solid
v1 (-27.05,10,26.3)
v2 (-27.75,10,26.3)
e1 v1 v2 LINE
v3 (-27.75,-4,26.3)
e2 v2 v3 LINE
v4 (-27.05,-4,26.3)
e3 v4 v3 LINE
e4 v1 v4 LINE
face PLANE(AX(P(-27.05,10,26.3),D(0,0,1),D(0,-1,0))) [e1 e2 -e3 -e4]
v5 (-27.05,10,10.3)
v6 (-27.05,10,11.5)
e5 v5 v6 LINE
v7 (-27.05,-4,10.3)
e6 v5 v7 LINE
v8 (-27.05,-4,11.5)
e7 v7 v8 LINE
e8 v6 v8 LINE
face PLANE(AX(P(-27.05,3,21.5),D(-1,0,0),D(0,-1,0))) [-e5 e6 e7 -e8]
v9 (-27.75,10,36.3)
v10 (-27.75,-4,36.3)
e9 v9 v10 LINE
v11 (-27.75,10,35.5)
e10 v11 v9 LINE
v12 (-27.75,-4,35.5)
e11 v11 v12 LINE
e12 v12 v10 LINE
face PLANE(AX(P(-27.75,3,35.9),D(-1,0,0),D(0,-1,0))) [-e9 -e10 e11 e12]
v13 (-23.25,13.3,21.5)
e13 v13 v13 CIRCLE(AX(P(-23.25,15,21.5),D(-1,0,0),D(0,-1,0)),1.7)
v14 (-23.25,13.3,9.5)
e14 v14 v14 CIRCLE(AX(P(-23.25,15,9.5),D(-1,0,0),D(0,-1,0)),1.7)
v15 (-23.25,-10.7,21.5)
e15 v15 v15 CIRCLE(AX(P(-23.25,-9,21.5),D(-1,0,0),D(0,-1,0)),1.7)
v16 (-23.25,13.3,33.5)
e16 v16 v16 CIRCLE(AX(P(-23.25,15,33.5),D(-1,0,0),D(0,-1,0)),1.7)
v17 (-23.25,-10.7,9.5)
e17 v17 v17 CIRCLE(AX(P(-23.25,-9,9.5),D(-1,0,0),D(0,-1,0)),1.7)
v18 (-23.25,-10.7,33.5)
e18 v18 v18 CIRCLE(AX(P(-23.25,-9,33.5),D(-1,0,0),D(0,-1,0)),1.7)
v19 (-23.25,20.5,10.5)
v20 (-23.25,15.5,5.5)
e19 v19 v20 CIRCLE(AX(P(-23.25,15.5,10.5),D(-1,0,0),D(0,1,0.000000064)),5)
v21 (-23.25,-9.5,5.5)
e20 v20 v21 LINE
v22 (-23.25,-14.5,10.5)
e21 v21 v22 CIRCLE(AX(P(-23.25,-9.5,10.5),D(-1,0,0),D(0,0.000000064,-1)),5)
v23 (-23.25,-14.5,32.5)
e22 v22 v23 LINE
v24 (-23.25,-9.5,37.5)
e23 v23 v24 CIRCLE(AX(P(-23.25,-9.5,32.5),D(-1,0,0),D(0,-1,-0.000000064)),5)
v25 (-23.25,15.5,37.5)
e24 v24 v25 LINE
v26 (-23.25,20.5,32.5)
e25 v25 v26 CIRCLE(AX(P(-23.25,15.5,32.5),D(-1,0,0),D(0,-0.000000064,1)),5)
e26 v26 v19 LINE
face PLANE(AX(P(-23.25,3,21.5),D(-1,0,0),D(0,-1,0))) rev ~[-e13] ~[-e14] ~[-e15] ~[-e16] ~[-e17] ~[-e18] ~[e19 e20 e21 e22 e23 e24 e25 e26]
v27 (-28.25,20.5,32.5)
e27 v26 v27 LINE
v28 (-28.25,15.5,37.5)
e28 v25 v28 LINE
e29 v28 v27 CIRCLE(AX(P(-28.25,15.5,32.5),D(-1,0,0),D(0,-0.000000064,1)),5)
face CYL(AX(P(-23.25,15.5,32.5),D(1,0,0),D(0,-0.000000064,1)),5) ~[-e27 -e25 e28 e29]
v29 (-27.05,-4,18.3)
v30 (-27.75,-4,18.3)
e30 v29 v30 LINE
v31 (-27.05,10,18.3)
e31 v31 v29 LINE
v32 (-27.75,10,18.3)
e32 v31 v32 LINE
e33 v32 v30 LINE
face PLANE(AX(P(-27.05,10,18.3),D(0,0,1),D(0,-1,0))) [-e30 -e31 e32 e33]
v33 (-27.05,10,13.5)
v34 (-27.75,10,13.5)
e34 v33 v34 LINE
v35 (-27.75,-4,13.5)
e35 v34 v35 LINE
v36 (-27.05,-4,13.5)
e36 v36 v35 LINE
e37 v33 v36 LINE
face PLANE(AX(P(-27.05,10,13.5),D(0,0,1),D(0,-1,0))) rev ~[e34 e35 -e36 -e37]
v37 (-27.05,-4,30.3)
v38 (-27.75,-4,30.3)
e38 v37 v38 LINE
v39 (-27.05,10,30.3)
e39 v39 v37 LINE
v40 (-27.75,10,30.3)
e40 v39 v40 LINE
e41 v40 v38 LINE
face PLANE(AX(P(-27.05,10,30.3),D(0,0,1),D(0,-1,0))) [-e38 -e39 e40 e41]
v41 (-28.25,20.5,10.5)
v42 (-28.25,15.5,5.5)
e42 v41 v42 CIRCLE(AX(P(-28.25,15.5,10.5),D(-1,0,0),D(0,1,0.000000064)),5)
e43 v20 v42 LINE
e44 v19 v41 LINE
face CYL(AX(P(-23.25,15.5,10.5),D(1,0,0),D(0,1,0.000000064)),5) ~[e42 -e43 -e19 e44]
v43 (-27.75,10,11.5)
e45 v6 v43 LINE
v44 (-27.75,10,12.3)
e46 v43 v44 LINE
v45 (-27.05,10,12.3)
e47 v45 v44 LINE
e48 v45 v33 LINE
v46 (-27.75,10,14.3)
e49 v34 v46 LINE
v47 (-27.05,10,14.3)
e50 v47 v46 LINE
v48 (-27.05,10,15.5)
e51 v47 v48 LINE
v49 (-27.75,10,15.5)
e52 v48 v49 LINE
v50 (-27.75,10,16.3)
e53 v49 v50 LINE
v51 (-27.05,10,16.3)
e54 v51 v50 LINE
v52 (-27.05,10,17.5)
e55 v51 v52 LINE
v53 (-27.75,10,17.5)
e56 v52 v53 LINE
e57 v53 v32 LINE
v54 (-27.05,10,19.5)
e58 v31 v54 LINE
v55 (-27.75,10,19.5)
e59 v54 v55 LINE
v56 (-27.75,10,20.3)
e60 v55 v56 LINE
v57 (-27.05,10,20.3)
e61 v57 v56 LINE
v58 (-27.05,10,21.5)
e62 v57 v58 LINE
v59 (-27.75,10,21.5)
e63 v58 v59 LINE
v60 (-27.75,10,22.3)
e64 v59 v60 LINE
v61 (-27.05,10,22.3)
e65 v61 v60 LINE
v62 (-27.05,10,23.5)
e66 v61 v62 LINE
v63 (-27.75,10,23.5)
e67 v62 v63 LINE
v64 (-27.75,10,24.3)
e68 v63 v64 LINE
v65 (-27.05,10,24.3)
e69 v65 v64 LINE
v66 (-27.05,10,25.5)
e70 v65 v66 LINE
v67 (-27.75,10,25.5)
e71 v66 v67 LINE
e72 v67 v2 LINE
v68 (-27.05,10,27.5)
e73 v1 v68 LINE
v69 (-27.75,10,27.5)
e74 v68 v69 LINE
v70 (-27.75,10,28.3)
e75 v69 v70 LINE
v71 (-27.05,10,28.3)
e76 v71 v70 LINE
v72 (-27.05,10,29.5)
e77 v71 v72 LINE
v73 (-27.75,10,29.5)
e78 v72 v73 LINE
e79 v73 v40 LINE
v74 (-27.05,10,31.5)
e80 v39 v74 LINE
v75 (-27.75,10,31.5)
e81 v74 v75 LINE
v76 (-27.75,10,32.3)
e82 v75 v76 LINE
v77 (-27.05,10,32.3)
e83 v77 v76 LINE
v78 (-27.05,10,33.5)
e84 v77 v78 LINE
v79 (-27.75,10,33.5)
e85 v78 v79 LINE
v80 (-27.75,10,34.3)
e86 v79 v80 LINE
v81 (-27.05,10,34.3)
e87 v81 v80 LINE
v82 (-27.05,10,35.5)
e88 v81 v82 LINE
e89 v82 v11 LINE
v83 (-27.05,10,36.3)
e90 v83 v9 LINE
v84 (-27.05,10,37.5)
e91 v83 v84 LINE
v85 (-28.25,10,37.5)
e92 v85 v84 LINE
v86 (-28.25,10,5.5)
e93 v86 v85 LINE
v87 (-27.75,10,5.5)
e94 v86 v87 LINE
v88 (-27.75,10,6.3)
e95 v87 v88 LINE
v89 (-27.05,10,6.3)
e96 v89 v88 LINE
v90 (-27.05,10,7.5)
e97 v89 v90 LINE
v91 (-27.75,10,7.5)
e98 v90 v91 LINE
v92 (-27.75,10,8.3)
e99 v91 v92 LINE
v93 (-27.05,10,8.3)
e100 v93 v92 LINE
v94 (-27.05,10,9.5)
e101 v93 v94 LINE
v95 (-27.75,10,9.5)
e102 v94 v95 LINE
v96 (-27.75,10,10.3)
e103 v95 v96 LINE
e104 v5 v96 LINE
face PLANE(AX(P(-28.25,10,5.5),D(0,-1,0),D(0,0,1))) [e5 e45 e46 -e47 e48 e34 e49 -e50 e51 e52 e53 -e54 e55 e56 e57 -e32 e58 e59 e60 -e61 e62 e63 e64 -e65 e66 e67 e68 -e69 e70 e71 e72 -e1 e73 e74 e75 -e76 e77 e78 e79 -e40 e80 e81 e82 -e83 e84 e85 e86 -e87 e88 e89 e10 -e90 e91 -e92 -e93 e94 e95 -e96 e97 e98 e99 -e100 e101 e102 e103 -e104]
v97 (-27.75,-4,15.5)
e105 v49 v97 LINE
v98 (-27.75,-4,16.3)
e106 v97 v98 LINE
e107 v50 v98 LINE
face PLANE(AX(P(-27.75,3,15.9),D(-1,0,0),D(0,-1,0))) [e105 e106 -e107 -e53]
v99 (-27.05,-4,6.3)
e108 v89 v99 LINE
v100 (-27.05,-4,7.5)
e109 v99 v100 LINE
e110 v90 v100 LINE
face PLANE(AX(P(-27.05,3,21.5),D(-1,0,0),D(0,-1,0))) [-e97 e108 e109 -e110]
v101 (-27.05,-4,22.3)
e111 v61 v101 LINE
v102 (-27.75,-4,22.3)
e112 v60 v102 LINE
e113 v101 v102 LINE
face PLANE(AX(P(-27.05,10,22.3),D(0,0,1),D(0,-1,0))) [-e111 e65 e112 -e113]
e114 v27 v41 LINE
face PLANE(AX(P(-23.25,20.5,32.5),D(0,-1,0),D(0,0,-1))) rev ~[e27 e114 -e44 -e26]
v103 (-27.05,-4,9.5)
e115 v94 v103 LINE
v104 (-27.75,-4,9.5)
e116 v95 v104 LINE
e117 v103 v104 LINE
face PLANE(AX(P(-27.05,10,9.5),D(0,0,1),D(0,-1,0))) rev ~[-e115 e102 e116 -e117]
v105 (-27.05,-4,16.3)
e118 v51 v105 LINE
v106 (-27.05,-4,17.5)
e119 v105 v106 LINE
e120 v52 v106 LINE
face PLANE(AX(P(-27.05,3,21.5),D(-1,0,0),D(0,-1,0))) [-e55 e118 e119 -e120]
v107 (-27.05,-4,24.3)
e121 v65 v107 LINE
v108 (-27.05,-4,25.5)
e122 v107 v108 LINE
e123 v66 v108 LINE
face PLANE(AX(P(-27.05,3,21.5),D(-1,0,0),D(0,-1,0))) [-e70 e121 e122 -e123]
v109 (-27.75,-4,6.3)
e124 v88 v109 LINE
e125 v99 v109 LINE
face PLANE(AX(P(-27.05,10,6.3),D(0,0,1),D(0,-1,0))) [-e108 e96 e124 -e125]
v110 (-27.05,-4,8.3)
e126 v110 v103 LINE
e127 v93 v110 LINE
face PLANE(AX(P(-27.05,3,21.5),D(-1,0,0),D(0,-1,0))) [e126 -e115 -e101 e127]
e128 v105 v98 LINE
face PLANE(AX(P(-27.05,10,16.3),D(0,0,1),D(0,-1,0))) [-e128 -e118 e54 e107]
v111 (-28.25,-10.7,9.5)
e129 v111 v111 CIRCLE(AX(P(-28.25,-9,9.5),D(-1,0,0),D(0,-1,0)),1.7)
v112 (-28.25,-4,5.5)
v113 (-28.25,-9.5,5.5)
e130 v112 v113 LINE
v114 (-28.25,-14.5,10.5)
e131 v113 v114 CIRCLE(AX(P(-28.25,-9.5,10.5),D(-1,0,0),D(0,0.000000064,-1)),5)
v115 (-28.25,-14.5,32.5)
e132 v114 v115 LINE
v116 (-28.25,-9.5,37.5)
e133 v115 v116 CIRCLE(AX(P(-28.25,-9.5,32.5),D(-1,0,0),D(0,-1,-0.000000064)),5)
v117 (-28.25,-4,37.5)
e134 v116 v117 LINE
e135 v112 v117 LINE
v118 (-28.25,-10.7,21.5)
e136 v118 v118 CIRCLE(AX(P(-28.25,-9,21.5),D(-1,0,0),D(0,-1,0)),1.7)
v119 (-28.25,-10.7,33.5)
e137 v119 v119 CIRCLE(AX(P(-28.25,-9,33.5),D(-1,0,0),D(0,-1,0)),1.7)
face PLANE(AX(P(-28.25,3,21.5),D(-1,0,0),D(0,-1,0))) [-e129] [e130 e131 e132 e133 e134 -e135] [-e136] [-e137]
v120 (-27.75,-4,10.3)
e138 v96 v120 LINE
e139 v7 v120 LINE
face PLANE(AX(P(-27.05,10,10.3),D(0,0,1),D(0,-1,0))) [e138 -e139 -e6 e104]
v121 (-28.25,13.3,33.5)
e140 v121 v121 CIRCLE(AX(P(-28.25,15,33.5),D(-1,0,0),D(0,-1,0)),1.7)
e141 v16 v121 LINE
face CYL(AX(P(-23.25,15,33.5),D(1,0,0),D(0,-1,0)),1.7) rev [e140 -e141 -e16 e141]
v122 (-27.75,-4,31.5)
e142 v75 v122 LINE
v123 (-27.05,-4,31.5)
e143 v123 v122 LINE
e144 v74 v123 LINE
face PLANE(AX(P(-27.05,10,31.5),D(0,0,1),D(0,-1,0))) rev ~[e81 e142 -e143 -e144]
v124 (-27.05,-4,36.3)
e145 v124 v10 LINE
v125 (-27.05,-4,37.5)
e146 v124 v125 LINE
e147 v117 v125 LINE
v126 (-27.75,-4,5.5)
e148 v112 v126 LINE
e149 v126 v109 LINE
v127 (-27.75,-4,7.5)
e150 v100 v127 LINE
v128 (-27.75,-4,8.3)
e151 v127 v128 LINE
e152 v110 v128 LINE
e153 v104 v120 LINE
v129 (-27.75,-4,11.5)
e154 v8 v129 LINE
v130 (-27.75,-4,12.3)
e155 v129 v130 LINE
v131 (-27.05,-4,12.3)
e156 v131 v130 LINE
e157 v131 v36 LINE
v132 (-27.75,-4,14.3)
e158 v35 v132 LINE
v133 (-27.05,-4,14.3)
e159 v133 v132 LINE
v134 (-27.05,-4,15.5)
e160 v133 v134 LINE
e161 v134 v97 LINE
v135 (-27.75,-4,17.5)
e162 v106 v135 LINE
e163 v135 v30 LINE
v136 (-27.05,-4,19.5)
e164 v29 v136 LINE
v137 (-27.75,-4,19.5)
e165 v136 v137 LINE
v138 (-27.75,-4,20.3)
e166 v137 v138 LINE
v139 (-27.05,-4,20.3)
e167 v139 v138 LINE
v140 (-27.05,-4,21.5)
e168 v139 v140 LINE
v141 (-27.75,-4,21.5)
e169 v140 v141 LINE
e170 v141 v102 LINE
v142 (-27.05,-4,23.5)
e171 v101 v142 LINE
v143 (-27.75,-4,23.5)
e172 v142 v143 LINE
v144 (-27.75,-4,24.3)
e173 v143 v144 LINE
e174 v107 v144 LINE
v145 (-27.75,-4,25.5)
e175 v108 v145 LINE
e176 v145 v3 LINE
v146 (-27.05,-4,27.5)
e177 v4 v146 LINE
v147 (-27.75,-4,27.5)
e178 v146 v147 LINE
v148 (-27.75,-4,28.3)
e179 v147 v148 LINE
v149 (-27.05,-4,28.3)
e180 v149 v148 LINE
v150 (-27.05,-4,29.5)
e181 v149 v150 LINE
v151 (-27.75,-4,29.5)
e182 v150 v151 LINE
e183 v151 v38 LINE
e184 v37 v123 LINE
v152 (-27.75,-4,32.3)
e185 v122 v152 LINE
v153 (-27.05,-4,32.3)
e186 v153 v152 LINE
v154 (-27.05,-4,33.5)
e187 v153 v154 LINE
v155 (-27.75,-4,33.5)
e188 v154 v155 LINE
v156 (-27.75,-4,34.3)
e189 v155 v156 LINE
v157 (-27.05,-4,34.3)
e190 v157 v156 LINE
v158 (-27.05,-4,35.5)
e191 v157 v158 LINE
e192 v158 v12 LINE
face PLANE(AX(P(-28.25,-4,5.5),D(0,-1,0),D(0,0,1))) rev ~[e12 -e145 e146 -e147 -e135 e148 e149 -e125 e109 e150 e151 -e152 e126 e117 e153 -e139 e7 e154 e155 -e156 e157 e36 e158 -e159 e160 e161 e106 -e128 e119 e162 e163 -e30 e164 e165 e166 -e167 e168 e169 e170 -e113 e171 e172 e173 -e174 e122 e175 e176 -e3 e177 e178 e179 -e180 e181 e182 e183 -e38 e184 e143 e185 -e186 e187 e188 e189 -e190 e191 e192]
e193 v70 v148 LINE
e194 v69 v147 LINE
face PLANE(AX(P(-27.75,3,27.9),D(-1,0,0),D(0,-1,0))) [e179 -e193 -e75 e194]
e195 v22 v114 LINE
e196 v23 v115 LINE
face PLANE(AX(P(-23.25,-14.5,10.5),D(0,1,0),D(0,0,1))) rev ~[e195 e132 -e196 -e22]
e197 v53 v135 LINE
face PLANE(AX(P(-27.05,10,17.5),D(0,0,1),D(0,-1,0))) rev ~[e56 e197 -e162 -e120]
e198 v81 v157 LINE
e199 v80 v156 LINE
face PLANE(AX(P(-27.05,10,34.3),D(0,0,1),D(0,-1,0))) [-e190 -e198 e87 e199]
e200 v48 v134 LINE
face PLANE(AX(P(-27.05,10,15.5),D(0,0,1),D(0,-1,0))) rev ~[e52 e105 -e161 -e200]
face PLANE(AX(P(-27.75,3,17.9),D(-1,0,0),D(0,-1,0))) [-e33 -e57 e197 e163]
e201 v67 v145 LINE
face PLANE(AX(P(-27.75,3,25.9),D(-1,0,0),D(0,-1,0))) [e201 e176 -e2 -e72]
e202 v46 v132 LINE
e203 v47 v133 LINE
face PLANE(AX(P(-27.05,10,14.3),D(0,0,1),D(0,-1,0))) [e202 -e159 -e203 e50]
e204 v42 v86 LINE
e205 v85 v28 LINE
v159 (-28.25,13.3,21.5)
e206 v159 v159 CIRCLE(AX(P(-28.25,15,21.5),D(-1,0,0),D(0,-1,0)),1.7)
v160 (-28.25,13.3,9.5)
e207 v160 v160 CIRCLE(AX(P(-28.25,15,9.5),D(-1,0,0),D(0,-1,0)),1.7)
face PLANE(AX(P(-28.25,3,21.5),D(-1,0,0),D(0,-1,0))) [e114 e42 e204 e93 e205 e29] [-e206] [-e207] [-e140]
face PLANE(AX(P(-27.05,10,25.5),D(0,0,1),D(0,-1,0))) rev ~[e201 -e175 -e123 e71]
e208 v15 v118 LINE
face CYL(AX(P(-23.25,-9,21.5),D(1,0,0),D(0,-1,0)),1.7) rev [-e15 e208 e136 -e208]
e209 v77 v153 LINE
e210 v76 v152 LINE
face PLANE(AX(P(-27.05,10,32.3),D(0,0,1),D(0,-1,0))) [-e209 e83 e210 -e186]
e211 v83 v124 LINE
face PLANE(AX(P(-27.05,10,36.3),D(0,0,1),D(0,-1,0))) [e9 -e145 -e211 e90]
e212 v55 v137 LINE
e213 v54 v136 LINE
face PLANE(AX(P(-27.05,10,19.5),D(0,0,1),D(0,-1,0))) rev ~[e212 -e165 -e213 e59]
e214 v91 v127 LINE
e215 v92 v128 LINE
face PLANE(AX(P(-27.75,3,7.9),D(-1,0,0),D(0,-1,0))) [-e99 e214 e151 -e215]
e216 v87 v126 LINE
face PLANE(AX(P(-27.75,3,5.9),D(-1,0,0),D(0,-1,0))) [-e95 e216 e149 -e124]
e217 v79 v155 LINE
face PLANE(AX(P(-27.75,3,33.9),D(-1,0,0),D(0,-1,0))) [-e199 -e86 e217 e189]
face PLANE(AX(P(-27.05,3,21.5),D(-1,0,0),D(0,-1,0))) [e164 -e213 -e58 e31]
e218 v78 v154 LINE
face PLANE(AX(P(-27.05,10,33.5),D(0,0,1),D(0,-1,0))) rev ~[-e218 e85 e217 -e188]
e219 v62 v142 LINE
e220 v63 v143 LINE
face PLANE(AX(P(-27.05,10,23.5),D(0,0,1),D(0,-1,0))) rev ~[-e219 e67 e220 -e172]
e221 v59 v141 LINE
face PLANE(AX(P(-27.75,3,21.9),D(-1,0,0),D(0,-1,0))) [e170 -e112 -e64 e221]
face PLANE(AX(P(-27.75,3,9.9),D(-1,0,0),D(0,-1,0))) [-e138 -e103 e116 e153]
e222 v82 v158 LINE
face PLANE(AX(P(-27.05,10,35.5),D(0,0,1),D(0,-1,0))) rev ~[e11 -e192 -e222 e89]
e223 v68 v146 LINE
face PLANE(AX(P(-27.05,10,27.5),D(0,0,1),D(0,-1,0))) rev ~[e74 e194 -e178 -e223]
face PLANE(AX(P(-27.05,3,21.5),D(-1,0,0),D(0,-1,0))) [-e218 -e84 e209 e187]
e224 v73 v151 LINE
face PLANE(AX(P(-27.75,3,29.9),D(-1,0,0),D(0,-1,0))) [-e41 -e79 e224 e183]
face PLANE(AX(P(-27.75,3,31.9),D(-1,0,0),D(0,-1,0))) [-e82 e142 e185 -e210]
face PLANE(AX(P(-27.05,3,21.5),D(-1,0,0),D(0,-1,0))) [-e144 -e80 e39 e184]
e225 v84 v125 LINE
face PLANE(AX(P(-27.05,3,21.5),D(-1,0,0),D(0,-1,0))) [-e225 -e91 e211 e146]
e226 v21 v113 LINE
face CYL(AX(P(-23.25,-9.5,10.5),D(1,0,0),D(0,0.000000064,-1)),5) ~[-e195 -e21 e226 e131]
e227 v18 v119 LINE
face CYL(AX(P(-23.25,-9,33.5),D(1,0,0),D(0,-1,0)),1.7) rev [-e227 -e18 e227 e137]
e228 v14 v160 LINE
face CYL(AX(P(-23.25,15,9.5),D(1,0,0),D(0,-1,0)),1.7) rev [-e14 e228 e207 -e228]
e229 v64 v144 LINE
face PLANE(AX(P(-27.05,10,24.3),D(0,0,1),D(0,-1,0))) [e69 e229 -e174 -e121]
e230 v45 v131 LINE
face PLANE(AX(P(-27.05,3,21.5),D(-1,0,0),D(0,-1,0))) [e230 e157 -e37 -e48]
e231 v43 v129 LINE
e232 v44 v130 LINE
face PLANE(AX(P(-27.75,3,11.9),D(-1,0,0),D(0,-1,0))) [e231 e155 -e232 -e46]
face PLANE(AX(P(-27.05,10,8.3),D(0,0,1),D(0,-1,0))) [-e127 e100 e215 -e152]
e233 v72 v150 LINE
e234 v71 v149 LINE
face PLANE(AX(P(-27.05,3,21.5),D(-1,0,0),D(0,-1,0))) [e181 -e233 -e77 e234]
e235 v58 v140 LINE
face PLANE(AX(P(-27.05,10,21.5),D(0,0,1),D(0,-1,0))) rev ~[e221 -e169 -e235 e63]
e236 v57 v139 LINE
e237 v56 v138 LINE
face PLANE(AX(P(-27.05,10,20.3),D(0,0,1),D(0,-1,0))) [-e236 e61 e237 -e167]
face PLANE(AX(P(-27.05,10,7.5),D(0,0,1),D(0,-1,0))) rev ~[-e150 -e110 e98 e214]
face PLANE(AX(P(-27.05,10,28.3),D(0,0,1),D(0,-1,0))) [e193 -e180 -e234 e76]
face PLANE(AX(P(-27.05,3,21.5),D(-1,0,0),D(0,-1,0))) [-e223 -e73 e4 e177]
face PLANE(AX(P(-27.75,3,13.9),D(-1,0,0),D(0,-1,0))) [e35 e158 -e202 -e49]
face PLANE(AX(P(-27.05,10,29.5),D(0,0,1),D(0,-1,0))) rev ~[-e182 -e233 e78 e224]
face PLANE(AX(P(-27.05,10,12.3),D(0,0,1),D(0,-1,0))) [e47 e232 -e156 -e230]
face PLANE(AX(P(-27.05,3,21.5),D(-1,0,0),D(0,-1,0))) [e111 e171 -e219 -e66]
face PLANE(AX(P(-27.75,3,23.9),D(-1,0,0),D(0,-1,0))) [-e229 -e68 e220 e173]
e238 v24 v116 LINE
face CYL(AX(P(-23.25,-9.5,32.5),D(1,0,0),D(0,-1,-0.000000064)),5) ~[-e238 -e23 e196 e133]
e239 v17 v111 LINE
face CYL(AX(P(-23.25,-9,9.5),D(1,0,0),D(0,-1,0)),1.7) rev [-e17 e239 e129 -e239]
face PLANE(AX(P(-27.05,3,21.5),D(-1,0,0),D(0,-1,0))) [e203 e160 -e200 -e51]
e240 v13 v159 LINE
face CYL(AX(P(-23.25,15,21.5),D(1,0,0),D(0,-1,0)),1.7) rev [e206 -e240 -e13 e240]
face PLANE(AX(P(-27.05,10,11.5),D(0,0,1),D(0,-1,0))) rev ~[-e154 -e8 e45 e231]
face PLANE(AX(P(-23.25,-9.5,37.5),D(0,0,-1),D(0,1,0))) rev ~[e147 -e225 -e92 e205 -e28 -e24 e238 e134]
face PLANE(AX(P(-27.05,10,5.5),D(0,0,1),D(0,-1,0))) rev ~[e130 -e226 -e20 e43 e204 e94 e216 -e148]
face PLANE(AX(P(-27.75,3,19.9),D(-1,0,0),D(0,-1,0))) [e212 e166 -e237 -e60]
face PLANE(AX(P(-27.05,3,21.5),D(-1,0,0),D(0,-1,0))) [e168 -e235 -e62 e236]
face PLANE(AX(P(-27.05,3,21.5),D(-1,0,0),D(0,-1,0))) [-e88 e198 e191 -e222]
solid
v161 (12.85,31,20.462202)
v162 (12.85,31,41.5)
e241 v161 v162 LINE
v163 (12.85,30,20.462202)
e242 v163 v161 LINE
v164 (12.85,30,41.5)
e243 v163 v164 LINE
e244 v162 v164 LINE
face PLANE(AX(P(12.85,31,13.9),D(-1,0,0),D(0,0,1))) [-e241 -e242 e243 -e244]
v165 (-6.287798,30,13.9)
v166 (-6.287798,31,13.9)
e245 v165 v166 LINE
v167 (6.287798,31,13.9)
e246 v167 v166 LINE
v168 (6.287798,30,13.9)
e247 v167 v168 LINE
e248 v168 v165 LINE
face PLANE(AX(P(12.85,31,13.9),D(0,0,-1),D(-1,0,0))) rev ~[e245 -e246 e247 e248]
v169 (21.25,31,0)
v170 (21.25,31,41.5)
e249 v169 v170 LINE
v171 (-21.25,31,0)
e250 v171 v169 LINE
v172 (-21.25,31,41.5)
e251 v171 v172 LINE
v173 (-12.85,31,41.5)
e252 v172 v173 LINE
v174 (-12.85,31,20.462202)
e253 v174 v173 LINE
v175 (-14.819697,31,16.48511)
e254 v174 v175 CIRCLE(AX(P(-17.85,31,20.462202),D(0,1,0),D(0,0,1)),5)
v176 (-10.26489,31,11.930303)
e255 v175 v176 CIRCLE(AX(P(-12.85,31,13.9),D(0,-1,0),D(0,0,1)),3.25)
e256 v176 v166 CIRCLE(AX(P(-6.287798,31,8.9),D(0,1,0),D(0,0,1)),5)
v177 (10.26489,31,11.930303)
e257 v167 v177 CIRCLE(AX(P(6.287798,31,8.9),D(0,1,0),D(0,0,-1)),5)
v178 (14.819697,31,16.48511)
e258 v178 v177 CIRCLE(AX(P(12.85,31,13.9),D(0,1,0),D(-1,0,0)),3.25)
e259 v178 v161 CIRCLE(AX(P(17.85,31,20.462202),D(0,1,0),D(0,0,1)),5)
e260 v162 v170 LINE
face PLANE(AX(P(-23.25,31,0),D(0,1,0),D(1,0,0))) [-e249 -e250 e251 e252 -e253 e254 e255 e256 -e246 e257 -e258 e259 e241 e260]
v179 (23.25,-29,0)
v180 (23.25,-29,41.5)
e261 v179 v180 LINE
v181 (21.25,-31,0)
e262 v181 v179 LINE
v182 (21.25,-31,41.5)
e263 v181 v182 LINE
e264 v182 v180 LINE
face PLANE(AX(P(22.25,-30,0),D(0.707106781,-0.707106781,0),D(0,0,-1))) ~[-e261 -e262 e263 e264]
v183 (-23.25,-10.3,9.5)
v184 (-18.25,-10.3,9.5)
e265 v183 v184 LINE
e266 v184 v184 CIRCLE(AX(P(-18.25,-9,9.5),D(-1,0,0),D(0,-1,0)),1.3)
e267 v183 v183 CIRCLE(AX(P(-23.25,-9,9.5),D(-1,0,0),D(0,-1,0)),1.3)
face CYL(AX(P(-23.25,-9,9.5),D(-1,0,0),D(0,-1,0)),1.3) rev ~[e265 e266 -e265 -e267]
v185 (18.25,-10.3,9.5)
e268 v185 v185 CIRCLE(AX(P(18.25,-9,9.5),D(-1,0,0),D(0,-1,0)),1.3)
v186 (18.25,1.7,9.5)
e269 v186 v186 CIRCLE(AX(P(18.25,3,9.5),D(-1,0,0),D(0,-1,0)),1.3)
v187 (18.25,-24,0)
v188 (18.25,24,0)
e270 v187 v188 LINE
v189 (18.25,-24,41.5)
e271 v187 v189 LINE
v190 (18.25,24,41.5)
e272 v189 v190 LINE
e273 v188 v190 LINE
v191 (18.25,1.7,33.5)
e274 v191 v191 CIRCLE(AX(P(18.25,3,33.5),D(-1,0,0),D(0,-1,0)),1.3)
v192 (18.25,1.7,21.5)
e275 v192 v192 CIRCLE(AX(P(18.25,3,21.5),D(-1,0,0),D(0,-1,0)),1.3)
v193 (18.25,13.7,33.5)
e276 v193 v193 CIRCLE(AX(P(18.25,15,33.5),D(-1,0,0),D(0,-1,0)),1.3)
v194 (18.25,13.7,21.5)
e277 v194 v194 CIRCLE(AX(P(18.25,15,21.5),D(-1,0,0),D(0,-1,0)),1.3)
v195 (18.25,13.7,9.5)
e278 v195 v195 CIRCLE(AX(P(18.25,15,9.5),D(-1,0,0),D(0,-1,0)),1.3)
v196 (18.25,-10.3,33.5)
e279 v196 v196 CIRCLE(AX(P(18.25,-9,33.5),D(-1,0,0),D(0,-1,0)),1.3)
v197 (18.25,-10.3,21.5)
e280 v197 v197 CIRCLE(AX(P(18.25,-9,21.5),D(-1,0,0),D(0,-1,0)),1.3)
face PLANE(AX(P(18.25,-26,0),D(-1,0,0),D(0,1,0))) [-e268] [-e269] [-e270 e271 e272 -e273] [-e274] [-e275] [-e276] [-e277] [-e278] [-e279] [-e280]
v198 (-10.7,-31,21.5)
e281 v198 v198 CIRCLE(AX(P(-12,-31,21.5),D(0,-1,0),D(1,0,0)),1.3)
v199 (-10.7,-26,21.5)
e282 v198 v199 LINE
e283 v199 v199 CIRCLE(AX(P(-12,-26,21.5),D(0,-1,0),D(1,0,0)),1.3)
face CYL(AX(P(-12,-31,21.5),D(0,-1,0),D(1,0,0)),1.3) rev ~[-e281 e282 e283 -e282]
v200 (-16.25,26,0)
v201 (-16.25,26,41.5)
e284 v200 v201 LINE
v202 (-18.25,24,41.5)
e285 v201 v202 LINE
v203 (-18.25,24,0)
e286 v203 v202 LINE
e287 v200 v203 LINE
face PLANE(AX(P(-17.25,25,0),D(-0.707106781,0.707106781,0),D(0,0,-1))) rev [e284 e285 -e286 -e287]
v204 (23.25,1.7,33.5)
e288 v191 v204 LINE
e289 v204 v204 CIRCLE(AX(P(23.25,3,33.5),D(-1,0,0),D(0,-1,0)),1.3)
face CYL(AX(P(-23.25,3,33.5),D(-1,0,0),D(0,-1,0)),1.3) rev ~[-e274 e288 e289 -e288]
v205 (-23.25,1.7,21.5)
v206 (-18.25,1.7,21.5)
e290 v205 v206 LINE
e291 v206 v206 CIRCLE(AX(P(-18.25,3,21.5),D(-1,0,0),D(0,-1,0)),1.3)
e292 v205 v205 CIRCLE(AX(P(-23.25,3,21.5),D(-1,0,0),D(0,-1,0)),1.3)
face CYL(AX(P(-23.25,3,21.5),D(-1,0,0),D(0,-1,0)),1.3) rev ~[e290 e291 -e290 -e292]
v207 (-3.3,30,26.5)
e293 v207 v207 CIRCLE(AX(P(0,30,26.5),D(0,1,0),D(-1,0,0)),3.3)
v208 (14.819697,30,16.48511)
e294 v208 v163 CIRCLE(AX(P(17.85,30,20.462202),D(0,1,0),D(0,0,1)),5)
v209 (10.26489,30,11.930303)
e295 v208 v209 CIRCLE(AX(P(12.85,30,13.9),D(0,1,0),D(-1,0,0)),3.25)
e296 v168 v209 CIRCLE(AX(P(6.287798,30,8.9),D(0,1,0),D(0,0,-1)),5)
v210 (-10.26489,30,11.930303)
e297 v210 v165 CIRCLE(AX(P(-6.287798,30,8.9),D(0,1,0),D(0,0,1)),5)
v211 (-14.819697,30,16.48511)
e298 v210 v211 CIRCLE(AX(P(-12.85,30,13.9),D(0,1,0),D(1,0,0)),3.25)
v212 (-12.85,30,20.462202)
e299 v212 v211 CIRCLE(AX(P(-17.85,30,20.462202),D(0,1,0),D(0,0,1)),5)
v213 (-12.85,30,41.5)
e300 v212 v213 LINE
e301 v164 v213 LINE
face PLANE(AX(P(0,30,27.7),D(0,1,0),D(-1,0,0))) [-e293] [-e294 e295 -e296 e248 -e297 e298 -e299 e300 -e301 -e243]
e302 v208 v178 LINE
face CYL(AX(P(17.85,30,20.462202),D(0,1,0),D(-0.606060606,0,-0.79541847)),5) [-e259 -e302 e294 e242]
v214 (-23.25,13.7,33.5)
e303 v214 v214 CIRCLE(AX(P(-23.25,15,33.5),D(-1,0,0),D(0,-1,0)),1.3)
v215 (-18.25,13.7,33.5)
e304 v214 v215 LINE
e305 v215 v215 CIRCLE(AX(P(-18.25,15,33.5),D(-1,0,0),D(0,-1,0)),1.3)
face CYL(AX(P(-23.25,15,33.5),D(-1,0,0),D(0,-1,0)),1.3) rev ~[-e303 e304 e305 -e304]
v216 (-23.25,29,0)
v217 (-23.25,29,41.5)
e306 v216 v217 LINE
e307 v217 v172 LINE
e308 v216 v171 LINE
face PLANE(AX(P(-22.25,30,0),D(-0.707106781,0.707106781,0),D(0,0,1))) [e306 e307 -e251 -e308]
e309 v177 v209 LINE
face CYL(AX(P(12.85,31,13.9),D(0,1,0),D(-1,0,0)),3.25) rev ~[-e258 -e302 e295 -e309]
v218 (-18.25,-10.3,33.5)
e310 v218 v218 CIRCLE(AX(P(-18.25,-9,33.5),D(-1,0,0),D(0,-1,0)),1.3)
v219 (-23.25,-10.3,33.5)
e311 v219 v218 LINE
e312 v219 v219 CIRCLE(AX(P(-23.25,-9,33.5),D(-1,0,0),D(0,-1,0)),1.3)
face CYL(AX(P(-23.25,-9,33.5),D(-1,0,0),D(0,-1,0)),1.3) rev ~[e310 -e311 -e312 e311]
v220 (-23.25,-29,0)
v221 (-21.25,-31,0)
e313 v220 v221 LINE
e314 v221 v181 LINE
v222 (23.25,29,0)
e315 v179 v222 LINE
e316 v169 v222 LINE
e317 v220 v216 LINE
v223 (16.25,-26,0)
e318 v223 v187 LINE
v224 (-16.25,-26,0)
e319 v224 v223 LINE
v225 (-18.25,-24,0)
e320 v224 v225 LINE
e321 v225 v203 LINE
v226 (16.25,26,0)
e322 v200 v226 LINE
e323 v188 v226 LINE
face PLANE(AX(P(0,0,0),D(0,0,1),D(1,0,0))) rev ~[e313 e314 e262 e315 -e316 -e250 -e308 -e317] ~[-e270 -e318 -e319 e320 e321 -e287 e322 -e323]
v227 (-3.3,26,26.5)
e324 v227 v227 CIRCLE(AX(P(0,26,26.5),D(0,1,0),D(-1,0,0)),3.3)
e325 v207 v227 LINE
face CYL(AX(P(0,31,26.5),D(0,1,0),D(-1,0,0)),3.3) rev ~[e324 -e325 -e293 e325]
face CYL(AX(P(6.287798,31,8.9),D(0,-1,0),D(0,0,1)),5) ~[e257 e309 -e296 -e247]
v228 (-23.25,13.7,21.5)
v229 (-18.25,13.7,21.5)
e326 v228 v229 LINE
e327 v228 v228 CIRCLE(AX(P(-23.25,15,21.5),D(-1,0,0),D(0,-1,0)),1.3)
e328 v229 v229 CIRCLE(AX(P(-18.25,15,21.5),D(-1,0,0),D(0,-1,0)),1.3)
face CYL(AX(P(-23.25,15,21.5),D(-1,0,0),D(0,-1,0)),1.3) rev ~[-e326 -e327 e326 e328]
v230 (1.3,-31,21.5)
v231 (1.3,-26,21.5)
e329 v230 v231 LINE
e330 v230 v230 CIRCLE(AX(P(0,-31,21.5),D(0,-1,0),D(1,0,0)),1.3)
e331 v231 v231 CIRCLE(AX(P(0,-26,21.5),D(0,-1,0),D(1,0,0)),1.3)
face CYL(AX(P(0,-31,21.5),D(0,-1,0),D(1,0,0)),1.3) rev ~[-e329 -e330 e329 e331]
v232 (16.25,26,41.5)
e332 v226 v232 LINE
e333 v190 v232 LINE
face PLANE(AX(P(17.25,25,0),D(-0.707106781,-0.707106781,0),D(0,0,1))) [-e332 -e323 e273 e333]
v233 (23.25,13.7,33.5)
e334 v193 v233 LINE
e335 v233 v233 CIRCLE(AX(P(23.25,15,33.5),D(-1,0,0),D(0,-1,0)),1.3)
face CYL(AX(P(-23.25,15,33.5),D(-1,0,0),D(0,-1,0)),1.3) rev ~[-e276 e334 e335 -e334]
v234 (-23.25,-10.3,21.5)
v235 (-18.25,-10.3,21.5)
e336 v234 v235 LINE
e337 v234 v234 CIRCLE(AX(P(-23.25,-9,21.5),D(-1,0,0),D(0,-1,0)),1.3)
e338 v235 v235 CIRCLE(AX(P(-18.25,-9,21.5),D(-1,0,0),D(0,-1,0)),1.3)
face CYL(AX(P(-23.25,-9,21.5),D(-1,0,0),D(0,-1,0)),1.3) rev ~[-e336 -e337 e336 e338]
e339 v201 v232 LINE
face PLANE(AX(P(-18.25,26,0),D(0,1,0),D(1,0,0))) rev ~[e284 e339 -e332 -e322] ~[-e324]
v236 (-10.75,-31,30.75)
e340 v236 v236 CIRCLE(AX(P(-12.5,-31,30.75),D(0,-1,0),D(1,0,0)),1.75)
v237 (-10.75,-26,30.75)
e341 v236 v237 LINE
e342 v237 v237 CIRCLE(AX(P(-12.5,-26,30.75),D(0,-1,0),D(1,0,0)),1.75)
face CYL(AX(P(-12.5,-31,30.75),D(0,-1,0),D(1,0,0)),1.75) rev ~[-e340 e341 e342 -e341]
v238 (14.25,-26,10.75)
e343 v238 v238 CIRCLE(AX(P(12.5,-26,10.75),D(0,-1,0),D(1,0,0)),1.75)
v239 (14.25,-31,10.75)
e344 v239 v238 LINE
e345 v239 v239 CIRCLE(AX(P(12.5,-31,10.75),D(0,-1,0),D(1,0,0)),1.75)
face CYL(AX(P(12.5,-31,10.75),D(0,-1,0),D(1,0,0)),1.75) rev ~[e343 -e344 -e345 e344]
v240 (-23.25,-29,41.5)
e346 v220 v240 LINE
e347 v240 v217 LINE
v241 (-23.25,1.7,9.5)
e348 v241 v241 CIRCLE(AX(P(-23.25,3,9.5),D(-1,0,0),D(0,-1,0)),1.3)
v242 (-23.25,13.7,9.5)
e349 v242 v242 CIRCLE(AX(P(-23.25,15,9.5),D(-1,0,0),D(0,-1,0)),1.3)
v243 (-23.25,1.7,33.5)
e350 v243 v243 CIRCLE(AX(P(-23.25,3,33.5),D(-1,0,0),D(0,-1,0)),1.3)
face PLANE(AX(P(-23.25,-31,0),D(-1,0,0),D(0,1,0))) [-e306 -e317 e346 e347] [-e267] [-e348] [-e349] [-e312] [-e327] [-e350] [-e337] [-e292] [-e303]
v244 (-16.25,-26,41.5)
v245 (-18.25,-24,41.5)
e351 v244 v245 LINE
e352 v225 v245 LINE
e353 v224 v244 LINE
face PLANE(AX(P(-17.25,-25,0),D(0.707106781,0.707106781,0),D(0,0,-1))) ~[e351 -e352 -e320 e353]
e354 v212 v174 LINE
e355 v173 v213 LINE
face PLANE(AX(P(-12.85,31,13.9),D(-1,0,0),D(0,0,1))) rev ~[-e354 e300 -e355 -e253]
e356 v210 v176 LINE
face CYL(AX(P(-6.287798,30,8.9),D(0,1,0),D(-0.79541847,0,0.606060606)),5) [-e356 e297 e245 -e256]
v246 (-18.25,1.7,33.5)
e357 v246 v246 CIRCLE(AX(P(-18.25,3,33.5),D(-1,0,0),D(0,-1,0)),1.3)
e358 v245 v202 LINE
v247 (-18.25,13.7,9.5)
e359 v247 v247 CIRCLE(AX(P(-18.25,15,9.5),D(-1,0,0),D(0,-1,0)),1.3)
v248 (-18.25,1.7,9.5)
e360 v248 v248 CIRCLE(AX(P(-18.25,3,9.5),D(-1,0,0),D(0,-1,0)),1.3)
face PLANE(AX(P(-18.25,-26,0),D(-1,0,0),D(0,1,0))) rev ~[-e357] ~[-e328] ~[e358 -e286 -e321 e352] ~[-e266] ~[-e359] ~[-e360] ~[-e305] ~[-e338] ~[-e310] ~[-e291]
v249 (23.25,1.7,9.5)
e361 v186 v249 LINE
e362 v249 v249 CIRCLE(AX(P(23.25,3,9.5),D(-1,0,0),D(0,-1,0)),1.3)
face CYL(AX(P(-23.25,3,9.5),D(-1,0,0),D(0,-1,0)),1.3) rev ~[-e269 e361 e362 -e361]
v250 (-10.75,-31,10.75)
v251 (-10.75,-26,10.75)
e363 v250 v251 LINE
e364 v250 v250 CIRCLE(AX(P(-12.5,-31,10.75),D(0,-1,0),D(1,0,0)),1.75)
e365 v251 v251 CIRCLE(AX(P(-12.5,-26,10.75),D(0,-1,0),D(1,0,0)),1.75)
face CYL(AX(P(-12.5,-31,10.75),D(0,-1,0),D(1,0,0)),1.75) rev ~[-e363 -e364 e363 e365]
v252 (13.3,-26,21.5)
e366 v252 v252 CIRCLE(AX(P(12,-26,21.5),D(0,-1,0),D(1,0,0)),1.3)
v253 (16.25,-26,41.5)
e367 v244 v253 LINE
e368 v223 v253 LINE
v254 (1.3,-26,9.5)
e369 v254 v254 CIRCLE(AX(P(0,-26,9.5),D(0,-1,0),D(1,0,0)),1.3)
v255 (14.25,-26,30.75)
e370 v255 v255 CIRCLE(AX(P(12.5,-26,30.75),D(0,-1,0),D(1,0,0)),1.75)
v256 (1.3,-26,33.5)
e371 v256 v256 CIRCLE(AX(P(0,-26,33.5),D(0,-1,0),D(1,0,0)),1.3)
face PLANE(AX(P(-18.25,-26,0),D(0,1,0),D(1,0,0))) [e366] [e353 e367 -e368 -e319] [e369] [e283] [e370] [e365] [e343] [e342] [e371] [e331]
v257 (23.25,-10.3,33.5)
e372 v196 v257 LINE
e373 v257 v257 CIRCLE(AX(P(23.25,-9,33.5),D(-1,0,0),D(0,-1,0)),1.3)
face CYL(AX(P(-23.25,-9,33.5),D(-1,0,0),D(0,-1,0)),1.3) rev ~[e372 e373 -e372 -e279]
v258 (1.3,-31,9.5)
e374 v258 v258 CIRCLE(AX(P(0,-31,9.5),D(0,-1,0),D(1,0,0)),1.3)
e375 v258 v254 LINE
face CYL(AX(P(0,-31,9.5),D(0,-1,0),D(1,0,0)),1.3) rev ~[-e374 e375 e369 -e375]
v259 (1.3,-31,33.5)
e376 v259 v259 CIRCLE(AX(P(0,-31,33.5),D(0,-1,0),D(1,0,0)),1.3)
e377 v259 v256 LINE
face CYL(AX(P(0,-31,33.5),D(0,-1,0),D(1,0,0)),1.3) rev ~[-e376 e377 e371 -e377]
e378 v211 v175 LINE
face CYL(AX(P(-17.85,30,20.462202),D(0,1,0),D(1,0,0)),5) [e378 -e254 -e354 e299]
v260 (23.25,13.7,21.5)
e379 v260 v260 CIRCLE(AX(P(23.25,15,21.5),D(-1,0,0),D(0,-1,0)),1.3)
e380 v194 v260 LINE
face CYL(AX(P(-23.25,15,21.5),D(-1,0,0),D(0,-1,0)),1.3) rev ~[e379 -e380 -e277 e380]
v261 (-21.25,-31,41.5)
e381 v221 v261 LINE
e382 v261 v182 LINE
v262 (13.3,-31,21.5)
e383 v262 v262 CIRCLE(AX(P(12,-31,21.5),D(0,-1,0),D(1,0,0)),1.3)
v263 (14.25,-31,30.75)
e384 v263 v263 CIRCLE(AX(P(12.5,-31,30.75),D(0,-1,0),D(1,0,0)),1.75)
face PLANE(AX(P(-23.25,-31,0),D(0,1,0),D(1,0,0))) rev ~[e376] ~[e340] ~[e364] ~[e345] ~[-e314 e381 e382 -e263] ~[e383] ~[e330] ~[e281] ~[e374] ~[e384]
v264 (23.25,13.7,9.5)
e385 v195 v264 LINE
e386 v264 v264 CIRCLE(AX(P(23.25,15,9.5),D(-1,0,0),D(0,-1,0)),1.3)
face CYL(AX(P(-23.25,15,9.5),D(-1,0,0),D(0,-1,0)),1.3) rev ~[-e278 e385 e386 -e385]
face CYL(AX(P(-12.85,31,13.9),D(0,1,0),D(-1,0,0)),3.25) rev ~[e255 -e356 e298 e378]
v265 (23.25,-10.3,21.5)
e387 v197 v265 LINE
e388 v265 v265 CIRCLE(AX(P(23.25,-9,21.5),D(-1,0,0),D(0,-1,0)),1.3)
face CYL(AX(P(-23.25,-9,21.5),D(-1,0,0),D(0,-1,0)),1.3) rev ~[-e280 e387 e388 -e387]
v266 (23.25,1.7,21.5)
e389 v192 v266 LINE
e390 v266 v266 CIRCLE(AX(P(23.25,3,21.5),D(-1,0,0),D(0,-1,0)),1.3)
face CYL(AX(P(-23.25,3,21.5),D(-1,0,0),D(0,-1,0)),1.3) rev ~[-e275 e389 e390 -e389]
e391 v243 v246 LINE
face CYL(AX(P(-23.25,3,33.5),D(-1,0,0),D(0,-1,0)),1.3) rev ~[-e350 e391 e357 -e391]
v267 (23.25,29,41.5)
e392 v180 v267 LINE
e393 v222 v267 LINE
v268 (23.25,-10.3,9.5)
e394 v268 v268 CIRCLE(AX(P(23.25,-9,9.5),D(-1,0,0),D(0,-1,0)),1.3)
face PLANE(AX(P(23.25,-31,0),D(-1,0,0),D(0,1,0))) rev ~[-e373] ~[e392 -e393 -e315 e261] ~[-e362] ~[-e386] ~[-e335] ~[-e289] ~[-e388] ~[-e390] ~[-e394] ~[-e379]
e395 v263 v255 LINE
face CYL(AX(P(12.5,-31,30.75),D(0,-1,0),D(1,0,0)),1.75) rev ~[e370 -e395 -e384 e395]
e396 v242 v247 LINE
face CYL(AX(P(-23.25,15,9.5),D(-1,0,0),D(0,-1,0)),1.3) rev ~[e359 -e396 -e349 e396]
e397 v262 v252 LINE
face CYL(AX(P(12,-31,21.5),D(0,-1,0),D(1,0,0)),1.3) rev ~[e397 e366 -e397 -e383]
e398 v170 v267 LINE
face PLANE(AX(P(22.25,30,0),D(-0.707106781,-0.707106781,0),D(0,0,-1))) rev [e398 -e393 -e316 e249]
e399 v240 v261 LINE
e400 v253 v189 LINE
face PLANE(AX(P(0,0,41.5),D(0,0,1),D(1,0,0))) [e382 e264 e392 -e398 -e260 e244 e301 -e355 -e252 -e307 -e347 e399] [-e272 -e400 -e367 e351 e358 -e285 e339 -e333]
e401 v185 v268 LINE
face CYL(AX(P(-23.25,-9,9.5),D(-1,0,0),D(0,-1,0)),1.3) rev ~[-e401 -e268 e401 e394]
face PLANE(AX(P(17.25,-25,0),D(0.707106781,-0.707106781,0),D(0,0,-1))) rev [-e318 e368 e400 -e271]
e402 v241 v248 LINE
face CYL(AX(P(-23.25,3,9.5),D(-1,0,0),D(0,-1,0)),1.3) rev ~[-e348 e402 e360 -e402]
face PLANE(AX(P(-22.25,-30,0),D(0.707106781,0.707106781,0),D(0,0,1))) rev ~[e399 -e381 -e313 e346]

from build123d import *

# Parameters (mm, degrees)
F0_W      = 46.5
F0_H      = 62
F0_W_2    = 36.5
F0_H_2    = 52
F1_DEPTH  = 41.5
F2_SIZE   = 2
F3_R      = 1.75
F4_DEPTH  = 10
F5_R      = 1.3
F6_DEPTH  = 46.501
F7_R      = 3.3
F8_DEPTH  = 10
F9_W      = 25.7
F9_H      = 27.6
F10_DEPTH = 1
F11_R     = 3.25
F12_DEPTH = 1
F13_R     = 5
F14_R     = 1.3
F15_DEPTH = 10
F16_R     = 1.7
F17_DEPTH = 5
F18_W     = 14
F18_H     = 32
F19_DEPTH = 1.2
F20_W     = 14
F20_H     = 0.8
F21_DEPTH = 0.7


with BuildPart() as f1:
    # F0 (on Top) → F1 (new body)
    with BuildSketch(Plane.XY):
        Rectangle(F0_W, F0_H)
        Rectangle(F0_W_2, F0_H_2, mode=Mode.SUBTRACT)
    extrude(amount=F1_DEPTH)

    # F2
    f2_edges = [f1.edges().sort_by_distance(p)[0] for p in [
        (18.25, 26, 20.75),
        (-18.25, 26, 20.75),
        (18.25, -26, 20.75),
        (-18.25, -26, 20.75),
        (-23.25, -31, 20.75),
        (23.25, -31, 20.75),
        (23.25, 31, 20.75),
        (-23.25, 31, 20.75),
    ]]
    chamfer(f2_edges, length=F2_SIZE)

    # F3 (on face) → F4 (cut)
    with BuildSketch(Plane.XZ.offset(31)):
        with Locations((-12.5, 30.75)):
            Circle(F3_R)
        with Locations((12.5, 30.75)):
            Circle(F3_R)
        with Locations((-12.5, 10.75)):
            Circle(F3_R)
        with Locations((12.5, 10.75)):
            Circle(F3_R)
    extrude(amount=-F4_DEPTH, mode=Mode.SUBTRACT)

    # F5 (on face) → F6 (cut, through all)
    with BuildSketch(Plane(origin=(-23.25, 0, 0), x_dir=(0, -1, 0), z_dir=(-1, 0, 0))):
        with Locations((-3, 33.5)):
            Circle(F5_R)
        with Locations((-3, 21.5)):
            Circle(F5_R)
        with Locations((-3, 9.5)):
            Circle(F5_R)
        with Locations((9, 21.5)):
            Circle(F5_R)
        with Locations((-15, 21.5)):
            Circle(F5_R)
        with Locations((-15, 33.5)):
            Circle(F5_R)
        with Locations((9, 33.5)):
            Circle(F5_R)
        with Locations((9, 9.5)):
            Circle(F5_R)
        with Locations((-15, 9.5)):
            Circle(F5_R)
    extrude(amount=-F6_DEPTH, mode=Mode.SUBTRACT)

    # F7 (on face) → F8 (cut)
    with BuildSketch(Plane(origin=(0, 31, 0), x_dir=(-1, 0, 0), z_dir=(0, 1, 0))):
        with Locations((0, 26.5)):
            Circle(F7_R)
    extrude(amount=-F8_DEPTH, mode=Mode.SUBTRACT)

    # F9 (on face) → F10 (cut)
    with BuildSketch(Plane(origin=(0, 31, 0), x_dir=(-1, 0, 0), z_dir=(0, 1, 0))):
        with Locations((0, 27.7)):
            Rectangle(F9_W, F9_H)
    extrude(amount=-F10_DEPTH, mode=Mode.SUBTRACT)

    # F11 (on face) → F12 (cut, through all)
    with BuildSketch(Plane(origin=(0, 31, 0), x_dir=(-1, 0, 0), z_dir=(0, 1, 0))):
        with Locations((-12.85, 13.9)):
            Circle(F11_R)
        with Locations((12.85, 13.9)):
            Circle(F11_R)
    extrude(amount=-F12_DEPTH, mode=Mode.SUBTRACT)

    # F13
    f13_edges = [f1.edges().sort_by_distance(p)[0] for p in [
        (12.85, 30.5, 17.15),
        (-12.85, 30.5, 17.15),
        (-9.6, 30.5, 13.9),
        (9.6, 30.5, 13.9),
    ]]
    fillet(f13_edges, radius=F13_R)

    # F14 (on face) → F15 (cut)
    with BuildSketch(Plane.XZ.offset(31)):
        with Locations((0, 21.5)):
            Circle(F14_R)
        with Locations((0, 9.5)):
            Circle(F14_R)
        with Locations((0, 33.5)):
            Circle(F14_R)
        with Locations((-12, 21.5)):
            Circle(F14_R)
        with Locations((12, 21.5)):
            Circle(F14_R)
    extrude(amount=-F15_DEPTH, mode=Mode.SUBTRACT)


with BuildPart() as f17:
    # F16 (on face) → F17 (new body)
    with BuildSketch(Plane(origin=(-23.25, 0, 0), x_dir=(0, -1, 0), z_dir=(-1, 0, 0))):
        with BuildLine():
            Line((9.5, 37.5), (-15.5, 37.5))
            ThreePointArc((-15.5, 37.5), (-19.035534, 36.035534), (-20.5, 32.5))
            Line((-20.5, 32.5), (-20.5, 10.5))
            ThreePointArc((-20.5, 10.5), (-19.035534, 6.964466), (-15.5, 5.5))
            Line((-15.5, 5.5), (9.5, 5.5))
            ThreePointArc((9.5, 5.5), (13.035534, 6.964466), (14.5, 10.5))
            Line((14.5, 10.5), (14.5, 32.5))
            ThreePointArc((14.5, 32.5), (13.035534, 36.035534), (9.5, 37.5))
        make_face()
        with Locations((-15, 9.5)):
            Circle(F16_R, mode=Mode.SUBTRACT)
        with Locations((9, 9.5)):
            Circle(F16_R, mode=Mode.SUBTRACT)
        with Locations((-15, 21.5)):
            Circle(F16_R, mode=Mode.SUBTRACT)
        with Locations((-15, 33.5)):
            Circle(F16_R, mode=Mode.SUBTRACT)
        with Locations((9, 21.5)):
            Circle(F16_R, mode=Mode.SUBTRACT)
        with Locations((9, 33.5)):
            Circle(F16_R, mode=Mode.SUBTRACT)
    extrude(amount=F17_DEPTH)

    # F18 (on face) → F19 (cut)
    with BuildSketch(Plane(origin=(-28.25, 0, 0), x_dir=(0, -1, 0), z_dir=(-1, 0, 0))):
        with Locations((-3, 21.5)):
            Rectangle(F18_W, F18_H)
    extrude(amount=-F19_DEPTH, mode=Mode.SUBTRACT)

    # F20 (on face) → F21 (join)
    with BuildSketch(Plane(origin=(-27.05, 0, 0), x_dir=(0, -1, 0), z_dir=(-1, 0, 0))):
        with Locations((-3, 5.9)):
            Rectangle(F20_W, F20_H)
        with Locations((-3, 7.9)):
            Rectangle(F20_W, F20_H)
        with Locations((-3, 9.9)):
            Rectangle(F20_W, F20_H)
        with Locations((-3, 11.9)):
            Rectangle(F20_W, F20_H)
        with Locations((-3, 13.9)):
            Rectangle(F20_W, F20_H)
        with Locations((-3, 15.9)):
            Rectangle(F20_W, F20_H)
        with Locations((-3, 17.9)):
            Rectangle(F20_W, F20_H)
        with Locations((-3, 19.9)):
            Rectangle(F20_W, F20_H)
        with Locations((-3, 21.9)):
            Rectangle(F20_W, F20_H)
        with Locations((-3, 23.9)):
            Rectangle(F20_W, F20_H)
        with Locations((-3, 25.9)):
            Rectangle(F20_W, F20_H)
        with Locations((-3, 27.9)):
            Rectangle(F20_W, F20_H)
        with Locations((-3, 29.9)):
            Rectangle(F20_W, F20_H)
        with Locations((-3, 31.9)):
            Rectangle(F20_W, F20_H)
        with Locations((-3, 33.9)):
            Rectangle(F20_W, F20_H)
        with Locations((-3, 35.9)):
            Rectangle(F20_W, F20_H)
    extrude(amount=F21_DEPTH)


solid = Compound([f1.part, f17.part])
